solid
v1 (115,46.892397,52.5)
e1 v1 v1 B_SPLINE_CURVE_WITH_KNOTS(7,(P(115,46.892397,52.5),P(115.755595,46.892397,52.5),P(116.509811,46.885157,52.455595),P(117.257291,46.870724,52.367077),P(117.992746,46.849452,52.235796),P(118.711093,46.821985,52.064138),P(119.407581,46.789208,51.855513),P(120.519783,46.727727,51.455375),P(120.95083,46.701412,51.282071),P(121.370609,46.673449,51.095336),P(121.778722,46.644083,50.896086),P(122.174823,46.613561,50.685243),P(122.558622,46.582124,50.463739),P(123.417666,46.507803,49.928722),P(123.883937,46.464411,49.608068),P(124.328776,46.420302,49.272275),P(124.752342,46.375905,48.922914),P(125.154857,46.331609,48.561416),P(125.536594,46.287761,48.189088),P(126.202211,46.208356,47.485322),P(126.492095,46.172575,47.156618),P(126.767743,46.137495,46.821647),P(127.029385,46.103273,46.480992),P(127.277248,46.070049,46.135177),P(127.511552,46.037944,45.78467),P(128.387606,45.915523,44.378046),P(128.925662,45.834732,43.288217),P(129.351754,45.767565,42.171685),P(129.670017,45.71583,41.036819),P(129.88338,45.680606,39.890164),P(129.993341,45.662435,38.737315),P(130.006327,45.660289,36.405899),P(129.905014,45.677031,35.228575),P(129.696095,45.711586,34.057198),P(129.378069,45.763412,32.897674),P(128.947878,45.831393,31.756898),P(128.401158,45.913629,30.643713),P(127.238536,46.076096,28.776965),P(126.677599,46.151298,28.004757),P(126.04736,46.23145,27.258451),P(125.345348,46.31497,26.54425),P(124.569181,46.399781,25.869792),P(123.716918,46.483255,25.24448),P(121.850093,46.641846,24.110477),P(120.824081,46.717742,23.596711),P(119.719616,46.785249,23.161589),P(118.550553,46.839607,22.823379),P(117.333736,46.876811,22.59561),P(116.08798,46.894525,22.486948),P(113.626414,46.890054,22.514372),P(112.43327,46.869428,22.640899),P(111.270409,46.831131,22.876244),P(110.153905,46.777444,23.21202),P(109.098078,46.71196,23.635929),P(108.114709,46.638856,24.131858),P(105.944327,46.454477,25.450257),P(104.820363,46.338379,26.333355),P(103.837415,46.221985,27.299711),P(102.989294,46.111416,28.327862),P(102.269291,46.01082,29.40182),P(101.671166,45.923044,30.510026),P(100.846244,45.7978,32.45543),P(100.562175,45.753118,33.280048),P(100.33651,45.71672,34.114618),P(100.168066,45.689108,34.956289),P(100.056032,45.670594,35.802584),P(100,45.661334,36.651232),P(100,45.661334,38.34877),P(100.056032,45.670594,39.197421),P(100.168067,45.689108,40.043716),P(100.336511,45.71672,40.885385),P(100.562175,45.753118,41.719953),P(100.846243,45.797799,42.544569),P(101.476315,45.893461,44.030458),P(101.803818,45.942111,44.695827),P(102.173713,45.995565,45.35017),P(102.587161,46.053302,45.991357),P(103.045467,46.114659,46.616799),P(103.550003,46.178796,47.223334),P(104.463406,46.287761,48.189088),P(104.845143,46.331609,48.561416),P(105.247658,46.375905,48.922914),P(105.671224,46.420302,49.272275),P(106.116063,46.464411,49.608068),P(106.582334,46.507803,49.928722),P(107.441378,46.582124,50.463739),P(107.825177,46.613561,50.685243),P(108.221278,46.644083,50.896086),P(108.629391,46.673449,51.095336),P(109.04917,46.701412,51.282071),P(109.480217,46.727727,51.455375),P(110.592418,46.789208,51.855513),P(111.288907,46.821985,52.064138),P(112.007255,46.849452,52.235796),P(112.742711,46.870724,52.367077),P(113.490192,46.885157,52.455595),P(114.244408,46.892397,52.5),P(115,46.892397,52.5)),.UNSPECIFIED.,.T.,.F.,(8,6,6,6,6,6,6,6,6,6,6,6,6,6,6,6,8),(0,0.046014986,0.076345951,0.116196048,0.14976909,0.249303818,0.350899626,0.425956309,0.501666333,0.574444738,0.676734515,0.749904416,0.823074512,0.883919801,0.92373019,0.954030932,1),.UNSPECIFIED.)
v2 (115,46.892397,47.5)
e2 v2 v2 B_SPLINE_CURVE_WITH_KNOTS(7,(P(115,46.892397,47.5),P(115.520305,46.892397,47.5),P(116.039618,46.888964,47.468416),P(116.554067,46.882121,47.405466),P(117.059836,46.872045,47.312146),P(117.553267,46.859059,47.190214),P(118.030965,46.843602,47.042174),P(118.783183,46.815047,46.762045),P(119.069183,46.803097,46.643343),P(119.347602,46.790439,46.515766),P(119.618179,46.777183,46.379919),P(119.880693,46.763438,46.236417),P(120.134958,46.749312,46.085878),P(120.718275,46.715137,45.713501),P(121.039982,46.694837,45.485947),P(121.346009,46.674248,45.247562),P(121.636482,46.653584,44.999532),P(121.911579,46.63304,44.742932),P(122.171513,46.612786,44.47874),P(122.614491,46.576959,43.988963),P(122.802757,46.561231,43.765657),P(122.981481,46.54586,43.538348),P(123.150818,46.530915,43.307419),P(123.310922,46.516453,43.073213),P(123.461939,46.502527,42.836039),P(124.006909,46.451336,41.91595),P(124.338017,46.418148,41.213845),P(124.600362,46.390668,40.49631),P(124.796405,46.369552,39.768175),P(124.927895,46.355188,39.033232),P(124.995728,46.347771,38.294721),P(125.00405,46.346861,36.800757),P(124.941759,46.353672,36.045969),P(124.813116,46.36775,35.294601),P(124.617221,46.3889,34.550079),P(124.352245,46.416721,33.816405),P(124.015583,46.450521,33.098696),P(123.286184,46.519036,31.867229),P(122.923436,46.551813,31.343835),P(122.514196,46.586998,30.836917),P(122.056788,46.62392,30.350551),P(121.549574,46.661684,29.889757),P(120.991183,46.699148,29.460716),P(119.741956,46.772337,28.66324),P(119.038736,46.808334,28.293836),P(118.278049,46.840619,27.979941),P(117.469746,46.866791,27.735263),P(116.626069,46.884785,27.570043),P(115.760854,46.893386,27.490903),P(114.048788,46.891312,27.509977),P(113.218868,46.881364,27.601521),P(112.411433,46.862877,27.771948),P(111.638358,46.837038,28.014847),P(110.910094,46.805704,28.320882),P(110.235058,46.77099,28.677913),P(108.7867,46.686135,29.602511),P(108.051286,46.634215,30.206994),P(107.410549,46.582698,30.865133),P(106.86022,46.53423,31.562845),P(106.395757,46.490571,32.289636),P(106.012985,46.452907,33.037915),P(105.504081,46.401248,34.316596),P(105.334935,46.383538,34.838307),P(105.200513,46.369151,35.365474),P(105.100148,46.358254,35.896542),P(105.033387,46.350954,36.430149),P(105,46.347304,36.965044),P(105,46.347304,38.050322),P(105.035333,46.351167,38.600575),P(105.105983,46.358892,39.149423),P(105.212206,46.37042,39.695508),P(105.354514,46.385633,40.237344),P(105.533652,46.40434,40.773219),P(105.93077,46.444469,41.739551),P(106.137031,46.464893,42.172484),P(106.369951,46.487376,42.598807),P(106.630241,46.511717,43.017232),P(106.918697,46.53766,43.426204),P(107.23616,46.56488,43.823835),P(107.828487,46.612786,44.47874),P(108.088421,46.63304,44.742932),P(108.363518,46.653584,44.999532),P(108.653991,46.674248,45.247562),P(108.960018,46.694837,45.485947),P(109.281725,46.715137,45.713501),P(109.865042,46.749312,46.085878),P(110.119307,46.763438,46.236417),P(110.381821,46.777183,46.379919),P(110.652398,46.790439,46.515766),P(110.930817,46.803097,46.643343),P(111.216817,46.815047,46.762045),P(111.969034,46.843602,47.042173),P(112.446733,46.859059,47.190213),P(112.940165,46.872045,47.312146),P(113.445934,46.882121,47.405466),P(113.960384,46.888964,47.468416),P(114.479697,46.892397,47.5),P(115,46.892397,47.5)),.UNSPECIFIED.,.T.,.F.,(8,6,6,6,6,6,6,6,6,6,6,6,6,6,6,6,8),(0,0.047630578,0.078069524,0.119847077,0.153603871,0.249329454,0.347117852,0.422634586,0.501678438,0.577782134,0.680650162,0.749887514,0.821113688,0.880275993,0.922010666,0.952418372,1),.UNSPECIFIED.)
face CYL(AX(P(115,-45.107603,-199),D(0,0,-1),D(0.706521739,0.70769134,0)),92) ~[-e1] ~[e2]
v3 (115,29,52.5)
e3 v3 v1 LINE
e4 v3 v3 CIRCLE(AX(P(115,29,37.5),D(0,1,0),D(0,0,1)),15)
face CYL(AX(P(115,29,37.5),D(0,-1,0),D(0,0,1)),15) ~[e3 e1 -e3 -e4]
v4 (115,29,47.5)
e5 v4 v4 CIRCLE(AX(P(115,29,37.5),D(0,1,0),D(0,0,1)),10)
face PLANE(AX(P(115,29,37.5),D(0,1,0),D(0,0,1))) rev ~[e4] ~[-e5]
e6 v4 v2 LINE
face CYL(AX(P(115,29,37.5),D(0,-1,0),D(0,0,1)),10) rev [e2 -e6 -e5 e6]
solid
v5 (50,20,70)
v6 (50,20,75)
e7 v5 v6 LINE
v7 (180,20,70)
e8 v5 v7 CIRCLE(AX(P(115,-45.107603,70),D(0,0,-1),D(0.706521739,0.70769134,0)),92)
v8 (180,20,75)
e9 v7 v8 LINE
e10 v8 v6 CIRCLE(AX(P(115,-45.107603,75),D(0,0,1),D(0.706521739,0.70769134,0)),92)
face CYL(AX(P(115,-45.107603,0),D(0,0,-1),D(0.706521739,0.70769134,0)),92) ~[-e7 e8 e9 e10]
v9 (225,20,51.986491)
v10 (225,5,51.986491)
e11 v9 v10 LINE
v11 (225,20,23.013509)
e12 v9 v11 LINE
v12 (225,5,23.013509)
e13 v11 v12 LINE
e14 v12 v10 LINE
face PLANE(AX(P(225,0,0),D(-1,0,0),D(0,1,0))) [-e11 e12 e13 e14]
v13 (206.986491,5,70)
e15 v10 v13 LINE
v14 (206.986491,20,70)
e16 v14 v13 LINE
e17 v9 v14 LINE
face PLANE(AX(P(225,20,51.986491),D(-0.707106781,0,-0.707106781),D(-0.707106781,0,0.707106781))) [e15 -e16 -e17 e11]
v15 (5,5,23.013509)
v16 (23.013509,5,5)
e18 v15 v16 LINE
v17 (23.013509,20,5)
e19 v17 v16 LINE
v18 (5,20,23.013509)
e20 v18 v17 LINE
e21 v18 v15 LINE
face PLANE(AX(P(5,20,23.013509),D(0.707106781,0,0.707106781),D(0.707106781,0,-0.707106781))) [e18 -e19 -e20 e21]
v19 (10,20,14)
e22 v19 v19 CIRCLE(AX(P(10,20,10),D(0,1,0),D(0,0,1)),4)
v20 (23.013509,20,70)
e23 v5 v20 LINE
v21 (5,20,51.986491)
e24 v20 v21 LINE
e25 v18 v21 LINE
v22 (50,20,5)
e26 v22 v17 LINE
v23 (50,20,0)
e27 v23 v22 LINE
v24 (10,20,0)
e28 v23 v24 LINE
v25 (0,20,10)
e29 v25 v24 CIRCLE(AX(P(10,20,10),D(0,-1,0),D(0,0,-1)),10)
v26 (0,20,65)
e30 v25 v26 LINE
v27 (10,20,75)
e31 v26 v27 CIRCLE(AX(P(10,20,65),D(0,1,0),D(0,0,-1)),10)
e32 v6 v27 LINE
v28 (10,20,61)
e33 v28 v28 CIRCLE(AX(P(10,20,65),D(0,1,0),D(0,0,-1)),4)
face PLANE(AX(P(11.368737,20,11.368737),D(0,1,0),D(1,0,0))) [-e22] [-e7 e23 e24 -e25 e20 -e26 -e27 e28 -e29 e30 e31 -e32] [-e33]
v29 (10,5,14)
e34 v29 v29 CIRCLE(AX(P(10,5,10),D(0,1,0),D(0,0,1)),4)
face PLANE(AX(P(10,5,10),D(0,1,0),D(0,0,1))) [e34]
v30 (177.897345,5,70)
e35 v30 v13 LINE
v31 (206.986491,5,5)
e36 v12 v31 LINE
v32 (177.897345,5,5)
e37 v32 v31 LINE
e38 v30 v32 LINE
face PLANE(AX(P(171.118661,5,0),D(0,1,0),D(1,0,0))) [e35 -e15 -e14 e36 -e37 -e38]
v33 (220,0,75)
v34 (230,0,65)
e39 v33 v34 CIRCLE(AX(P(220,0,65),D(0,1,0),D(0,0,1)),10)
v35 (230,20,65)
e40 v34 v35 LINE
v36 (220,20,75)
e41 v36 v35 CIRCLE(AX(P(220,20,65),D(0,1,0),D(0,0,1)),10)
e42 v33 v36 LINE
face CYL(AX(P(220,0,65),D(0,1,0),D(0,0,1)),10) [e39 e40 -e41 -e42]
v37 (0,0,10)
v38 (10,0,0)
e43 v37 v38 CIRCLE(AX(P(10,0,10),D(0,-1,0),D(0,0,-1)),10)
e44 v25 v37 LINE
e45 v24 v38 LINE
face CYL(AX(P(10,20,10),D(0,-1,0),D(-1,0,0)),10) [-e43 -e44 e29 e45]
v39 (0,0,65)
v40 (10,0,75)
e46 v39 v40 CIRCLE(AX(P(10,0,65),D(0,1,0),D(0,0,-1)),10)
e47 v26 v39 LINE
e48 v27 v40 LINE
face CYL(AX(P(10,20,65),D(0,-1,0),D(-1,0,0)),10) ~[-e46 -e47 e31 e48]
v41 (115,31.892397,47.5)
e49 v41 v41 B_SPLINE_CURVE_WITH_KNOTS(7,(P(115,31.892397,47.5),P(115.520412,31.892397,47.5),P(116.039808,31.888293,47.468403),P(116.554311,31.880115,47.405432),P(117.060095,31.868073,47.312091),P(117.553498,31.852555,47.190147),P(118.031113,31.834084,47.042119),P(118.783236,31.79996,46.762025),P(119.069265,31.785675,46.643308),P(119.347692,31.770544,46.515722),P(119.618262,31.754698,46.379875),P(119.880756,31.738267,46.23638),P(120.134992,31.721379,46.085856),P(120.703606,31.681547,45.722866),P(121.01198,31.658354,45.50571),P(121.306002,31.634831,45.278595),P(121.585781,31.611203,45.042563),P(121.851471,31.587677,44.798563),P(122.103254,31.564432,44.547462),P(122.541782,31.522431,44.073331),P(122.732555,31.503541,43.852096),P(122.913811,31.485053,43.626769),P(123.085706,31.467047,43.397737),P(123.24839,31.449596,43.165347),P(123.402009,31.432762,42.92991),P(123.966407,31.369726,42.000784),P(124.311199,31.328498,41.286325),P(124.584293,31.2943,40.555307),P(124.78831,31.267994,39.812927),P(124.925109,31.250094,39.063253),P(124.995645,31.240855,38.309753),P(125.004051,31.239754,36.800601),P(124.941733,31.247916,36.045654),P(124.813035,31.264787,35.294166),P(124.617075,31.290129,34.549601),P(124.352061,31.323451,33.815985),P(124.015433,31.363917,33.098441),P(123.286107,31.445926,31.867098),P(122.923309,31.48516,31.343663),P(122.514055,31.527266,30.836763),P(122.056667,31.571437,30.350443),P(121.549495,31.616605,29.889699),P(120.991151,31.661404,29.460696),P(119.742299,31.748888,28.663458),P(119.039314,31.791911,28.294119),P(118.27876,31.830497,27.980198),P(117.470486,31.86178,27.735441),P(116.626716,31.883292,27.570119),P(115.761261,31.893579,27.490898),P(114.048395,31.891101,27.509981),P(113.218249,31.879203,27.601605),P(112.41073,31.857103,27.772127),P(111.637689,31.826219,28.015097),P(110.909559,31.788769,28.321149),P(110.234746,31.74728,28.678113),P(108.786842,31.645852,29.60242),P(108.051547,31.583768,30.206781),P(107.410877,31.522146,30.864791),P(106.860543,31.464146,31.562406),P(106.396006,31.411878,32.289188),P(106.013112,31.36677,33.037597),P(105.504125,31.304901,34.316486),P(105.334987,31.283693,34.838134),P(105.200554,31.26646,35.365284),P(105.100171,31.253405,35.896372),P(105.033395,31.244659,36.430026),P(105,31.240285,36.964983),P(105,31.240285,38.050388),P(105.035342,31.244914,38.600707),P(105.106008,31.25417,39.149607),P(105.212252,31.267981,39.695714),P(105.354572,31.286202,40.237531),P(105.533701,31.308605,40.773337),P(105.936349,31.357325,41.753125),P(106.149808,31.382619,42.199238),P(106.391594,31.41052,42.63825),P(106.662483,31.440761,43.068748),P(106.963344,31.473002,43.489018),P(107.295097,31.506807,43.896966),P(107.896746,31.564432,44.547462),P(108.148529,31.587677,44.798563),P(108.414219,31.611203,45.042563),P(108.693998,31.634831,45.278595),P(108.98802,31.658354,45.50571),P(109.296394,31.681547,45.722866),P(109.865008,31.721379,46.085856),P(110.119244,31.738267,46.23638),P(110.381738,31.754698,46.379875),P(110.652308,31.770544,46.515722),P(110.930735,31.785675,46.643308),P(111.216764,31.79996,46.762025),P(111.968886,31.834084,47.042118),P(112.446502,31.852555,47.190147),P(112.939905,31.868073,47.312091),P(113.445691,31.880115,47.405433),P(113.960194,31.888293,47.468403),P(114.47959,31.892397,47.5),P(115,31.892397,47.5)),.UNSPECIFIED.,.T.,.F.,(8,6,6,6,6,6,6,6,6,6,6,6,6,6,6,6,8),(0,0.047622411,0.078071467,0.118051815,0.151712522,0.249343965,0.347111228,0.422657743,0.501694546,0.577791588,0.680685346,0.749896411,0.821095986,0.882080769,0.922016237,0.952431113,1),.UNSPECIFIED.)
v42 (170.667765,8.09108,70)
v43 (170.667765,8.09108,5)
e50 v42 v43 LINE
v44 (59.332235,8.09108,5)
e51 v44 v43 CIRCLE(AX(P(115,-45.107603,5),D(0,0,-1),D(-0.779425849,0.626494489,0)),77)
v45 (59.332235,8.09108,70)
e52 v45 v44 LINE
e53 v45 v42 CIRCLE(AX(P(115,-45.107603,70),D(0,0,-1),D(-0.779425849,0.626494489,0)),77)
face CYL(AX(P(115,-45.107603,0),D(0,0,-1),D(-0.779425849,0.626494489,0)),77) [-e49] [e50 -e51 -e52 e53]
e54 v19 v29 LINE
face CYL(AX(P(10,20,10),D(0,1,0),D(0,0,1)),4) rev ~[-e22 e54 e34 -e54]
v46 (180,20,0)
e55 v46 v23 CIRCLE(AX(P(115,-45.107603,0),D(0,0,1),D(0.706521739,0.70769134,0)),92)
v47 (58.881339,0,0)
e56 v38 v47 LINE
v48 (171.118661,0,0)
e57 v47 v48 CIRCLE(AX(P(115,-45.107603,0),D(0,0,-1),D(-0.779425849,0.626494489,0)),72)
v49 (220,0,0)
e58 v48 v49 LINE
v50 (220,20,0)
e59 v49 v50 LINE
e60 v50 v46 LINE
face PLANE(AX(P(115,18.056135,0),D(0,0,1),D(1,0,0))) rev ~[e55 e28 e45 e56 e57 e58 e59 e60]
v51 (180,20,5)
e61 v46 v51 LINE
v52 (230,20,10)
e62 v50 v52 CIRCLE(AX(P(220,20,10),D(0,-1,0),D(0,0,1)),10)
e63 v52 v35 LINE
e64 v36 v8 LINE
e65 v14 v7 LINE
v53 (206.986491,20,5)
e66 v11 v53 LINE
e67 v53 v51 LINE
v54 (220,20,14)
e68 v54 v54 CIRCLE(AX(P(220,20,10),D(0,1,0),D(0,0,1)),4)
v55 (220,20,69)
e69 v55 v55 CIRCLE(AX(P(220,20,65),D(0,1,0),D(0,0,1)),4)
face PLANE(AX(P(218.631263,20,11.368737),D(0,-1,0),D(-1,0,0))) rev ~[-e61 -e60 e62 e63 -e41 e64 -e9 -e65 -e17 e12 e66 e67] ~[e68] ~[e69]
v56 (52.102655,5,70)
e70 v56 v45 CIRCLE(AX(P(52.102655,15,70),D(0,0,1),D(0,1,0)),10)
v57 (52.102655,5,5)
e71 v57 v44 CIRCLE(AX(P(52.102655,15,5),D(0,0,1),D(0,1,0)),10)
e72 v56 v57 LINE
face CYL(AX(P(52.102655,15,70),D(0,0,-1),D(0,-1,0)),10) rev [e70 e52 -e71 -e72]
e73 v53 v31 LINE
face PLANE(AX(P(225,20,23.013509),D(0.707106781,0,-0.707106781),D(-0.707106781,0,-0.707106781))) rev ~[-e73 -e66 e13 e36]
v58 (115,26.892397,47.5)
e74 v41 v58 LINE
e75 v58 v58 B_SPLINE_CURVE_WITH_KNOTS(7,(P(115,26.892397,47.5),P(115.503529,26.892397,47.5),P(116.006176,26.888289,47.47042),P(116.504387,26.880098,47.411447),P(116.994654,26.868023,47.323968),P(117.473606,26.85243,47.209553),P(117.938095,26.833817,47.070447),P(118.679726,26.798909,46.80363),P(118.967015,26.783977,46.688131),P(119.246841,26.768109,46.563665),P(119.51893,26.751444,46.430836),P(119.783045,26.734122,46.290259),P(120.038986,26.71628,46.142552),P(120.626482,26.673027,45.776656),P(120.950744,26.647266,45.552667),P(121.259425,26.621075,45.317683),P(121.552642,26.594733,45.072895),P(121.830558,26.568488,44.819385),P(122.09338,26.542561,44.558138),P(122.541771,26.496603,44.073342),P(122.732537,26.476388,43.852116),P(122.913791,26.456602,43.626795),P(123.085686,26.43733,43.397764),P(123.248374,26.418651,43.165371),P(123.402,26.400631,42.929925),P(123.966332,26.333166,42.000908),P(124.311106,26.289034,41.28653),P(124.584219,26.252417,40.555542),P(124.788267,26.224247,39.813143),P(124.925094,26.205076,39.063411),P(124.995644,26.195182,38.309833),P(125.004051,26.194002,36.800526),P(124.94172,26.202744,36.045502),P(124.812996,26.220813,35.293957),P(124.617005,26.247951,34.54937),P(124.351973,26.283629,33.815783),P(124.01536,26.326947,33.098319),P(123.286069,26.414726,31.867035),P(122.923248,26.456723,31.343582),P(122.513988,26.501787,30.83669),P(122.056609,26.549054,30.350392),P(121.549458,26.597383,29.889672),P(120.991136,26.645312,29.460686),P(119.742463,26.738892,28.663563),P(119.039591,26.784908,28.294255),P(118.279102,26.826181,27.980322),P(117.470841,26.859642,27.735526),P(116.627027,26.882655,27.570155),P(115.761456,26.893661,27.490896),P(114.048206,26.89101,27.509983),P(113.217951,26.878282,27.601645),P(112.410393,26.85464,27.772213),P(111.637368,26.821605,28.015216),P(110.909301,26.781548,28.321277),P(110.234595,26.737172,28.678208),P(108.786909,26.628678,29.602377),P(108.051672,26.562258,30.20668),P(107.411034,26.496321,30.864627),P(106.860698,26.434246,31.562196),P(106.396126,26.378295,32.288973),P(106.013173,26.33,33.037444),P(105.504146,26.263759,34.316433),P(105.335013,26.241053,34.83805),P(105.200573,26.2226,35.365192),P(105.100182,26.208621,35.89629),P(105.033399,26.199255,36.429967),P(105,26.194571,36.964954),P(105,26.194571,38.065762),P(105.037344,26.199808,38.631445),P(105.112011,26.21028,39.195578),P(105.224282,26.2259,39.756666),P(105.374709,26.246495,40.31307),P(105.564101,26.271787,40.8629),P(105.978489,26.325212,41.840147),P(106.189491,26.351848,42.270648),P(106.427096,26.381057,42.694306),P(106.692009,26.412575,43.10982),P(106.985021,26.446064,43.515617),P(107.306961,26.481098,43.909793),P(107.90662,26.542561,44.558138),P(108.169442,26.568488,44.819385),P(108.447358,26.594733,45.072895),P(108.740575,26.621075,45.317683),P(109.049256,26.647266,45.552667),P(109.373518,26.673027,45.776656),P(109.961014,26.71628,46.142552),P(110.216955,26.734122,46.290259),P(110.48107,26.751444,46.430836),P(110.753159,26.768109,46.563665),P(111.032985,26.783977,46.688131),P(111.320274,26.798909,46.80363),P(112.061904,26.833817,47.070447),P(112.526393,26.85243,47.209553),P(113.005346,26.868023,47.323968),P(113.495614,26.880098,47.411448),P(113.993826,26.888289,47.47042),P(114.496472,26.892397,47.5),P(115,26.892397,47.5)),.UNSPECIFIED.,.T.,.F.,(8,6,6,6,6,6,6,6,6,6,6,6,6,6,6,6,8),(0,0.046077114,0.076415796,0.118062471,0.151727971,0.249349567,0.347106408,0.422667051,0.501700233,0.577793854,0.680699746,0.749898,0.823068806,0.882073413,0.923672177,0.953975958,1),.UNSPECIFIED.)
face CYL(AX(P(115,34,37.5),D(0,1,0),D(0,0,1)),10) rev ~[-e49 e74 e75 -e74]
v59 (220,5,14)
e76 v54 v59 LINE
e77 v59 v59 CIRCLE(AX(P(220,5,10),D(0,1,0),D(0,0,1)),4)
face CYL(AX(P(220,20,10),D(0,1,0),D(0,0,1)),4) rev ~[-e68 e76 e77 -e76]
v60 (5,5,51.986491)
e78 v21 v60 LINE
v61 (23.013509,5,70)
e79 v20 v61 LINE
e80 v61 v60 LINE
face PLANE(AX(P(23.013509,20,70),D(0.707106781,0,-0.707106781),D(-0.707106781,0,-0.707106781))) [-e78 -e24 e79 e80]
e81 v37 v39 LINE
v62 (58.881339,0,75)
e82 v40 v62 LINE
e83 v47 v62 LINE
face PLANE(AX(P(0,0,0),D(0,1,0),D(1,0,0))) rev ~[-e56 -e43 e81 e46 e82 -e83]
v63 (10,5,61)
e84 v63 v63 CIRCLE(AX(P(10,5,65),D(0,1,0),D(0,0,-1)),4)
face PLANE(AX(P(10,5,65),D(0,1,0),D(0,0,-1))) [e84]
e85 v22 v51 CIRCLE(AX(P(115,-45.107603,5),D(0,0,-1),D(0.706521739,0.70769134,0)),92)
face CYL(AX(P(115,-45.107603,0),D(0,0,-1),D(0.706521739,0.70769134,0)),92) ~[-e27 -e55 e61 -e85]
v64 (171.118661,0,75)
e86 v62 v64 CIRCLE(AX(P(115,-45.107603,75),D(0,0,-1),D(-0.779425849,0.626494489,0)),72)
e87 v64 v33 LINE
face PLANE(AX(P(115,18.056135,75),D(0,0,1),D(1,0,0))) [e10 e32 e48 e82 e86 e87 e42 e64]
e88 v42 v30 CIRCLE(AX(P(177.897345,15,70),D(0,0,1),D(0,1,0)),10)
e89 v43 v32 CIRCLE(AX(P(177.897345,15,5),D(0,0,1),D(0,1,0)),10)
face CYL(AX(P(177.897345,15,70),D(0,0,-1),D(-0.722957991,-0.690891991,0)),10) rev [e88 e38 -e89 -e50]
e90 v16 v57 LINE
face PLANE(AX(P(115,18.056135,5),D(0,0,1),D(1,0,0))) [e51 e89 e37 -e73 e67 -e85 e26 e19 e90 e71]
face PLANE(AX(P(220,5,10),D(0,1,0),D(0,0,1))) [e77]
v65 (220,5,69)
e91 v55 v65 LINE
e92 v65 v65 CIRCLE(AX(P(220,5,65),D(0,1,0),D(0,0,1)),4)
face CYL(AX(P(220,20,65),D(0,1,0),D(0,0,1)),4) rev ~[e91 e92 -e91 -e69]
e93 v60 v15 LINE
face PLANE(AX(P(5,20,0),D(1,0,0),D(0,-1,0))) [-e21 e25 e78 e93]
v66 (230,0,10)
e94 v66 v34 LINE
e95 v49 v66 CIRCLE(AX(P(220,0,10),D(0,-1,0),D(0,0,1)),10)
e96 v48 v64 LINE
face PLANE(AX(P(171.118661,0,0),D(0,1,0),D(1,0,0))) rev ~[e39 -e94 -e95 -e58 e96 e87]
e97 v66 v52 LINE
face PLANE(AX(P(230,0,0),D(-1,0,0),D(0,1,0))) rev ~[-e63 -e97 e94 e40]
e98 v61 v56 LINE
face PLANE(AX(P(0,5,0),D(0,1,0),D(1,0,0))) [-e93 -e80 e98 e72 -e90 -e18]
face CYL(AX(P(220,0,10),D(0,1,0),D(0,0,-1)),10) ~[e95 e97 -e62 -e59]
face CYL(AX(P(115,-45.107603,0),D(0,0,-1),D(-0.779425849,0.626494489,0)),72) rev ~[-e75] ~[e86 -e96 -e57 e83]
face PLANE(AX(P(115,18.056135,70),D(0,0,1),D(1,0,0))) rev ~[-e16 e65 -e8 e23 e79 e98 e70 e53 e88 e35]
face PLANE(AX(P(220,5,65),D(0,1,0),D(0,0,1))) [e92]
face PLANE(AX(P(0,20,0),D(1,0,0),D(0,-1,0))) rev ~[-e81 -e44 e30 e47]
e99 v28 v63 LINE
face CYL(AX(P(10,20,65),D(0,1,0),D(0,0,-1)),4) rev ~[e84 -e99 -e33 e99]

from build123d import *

# Parameters (mm, degrees)
EXTRUDE_1_DEPTH          = 75
SHELL_1_T                = -5
FILLET_1_R               = 10
EXTRUDE_2_DEPTH          = 20
FILLET_2_R               = 10
EXTRUDE_3_DEPTH          = 20
SKETCH_5_R               = 4
CUT_EXTRUDE_1_DEPTH      = 15
EXTRUDE_4_DEPTH          = 15
EXTRUDE_4_DEPTH_BACK     = 5
SKETCH_6_R               = 15
SKETCH_6_R_2             = 10
SKETCH_6_3_R             = 10
CUT_EXTRUDE_2_DEPTH      = 15
CUT_EXTRUDE_3_DEPTH      = 247.831926653
CUT_EXTRUDE_3_DEPTH_BACK = 274


with BuildPart() as part:
    # 스케치2 → 보스-돌출1 (new body)
    with BuildSketch(Plane.XY):
        with BuildLine():
            Line((0, 0), (58.881338846, 0))
            ThreePointArc((58.881338846, 0), (115, 26.892396757), (171.118661154, 0))
            Line((171.118661154, 0), (230, 0))
            Line((230, 0), (230, 20))
            Line((230, 20), (180, 20))
            ThreePointArc((180, 20), (115, 46.892396757), (50, 20))
            Line((50, 20), (0, 20))
            Line((0, 20), (0, 0))
        make_face()
    extrude(amount=EXTRUDE_1_DEPTH)

    # 쉘1
    shell_1_openings = [part.faces().sort_by_distance(p)[0] for p in [
        (205, 20, 37.5),
        (115, 46.892396757, 37.5),
        (25, 20, 37.5),
    ]]
    offset(amount=SHELL_1_T, openings=shell_1_openings, kind=Kind.INTERSECTION)

    # 필렛1
    fillet_1_edges = [part.edges().sort_by_distance(p)[0] for p in [
        (173.465614657, 5, 37.5),
        (56.534385343, 5, 37.5),
    ]]
    fillet(fillet_1_edges, radius=FILLET_1_R)

    # 스케치3 → 보스-돌출2 (add)
    with BuildSketch(Plane(origin=(0, 20, 0), x_dir=(1, 0, 0), z_dir=(0, 1, 0))):
        Polygon((5, -5), (5, -23.013509492), (23.013509492, -5), align=None)
        Polygon((23.013509492, -70), (5, -51.986490508), (5, -70), align=None)
    extrude(amount=-EXTRUDE_2_DEPTH)

    # 필렛2
    fillet_2_edges = [part.edges().sort_by_distance(p)[0] for p in [
        (230, 10, 0),
        (230, 10, 75),
        (0, 10, 0),
        (0, 10, 75),
    ]]
    fillet(fillet_2_edges, radius=FILLET_2_R)

    # 스케치3<3> → 보스-돌출3 (add)
    with BuildSketch(Plane(origin=(0, 20, 0), x_dir=(1, 0, 0), z_dir=(0, 1, 0))):
        Polygon((206.986490508, -5), (225, -23.013509492), (225, -5), align=None)
        Polygon((206.986490508, -70), (225, -70), (225, -51.986490508), align=None)
    extrude(amount=-EXTRUDE_3_DEPTH)

    # 스케치5 → 컷-돌출1 (cut)
    with BuildSketch(Plane(origin=(0, 20, 0), x_dir=(1, 0, 0), z_dir=(0, 1, 0))):
        with Locations((10, -10)):
            Circle(SKETCH_5_R)
        with Locations((10, -65)):
            Circle(SKETCH_5_R)
        with Locations((220, -65)):
            Circle(SKETCH_5_R)
        with Locations((220, -10)):
            Circle(SKETCH_5_R)
    extrude(amount=-CUT_EXTRUDE_1_DEPTH, mode=Mode.SUBTRACT)

    # 스케치6<3> → 컷-돌출2 (cut)
    with BuildSketch(Plane(origin=(0, 34, 0), x_dir=(1, 0, 0), z_dir=(0, 1, 0))):
        with Locations((115, -37.5)):
            Circle(SKETCH_6_3_R)
    extrude(amount=-CUT_EXTRUDE_2_DEPTH, mode=Mode.SUBTRACT)


with BuildPart() as body_2:
    # 스케치6 → 보스-돌출4 (new, two sides: drawn at the far end of the back side and taken through both)
    with BuildSketch(Plane(origin=(0, 34, 0), x_dir=(1, 0, 0), z_dir=(0, 1, 0)).offset(-EXTRUDE_4_DEPTH_BACK)):
        with Locations((115, -37.5)):
            Circle(SKETCH_6_R)
        with Locations((115, -37.5)):
            Circle(SKETCH_6_R_2, mode=Mode.SUBTRACT)
    extrude(amount=EXTRUDE_4_DEPTH + EXTRUDE_4_DEPTH_BACK)

    # 스케치7 → 컷-돌출3 (cut, two sides: drawn at the far end of the back side and taken through both)
    with BuildSketch(Plane.XY.offset(75).offset(-CUT_EXTRUDE_3_DEPTH_BACK)):
        with BuildLine():
            Line((50, 85.485358055), (50, 20))
            ThreePointArc((50, 20), (115, 46.892396757), (180, 20))
            Line((180, 20), (180, 85.485358055))
            Line((180, 85.485358055), (50, 85.485358055))
        make_face()
    extrude(amount=CUT_EXTRUDE_3_DEPTH + CUT_EXTRUDE_3_DEPTH_BACK, mode=Mode.SUBTRACT)


solid = Compound([part.part, body_2.part])
